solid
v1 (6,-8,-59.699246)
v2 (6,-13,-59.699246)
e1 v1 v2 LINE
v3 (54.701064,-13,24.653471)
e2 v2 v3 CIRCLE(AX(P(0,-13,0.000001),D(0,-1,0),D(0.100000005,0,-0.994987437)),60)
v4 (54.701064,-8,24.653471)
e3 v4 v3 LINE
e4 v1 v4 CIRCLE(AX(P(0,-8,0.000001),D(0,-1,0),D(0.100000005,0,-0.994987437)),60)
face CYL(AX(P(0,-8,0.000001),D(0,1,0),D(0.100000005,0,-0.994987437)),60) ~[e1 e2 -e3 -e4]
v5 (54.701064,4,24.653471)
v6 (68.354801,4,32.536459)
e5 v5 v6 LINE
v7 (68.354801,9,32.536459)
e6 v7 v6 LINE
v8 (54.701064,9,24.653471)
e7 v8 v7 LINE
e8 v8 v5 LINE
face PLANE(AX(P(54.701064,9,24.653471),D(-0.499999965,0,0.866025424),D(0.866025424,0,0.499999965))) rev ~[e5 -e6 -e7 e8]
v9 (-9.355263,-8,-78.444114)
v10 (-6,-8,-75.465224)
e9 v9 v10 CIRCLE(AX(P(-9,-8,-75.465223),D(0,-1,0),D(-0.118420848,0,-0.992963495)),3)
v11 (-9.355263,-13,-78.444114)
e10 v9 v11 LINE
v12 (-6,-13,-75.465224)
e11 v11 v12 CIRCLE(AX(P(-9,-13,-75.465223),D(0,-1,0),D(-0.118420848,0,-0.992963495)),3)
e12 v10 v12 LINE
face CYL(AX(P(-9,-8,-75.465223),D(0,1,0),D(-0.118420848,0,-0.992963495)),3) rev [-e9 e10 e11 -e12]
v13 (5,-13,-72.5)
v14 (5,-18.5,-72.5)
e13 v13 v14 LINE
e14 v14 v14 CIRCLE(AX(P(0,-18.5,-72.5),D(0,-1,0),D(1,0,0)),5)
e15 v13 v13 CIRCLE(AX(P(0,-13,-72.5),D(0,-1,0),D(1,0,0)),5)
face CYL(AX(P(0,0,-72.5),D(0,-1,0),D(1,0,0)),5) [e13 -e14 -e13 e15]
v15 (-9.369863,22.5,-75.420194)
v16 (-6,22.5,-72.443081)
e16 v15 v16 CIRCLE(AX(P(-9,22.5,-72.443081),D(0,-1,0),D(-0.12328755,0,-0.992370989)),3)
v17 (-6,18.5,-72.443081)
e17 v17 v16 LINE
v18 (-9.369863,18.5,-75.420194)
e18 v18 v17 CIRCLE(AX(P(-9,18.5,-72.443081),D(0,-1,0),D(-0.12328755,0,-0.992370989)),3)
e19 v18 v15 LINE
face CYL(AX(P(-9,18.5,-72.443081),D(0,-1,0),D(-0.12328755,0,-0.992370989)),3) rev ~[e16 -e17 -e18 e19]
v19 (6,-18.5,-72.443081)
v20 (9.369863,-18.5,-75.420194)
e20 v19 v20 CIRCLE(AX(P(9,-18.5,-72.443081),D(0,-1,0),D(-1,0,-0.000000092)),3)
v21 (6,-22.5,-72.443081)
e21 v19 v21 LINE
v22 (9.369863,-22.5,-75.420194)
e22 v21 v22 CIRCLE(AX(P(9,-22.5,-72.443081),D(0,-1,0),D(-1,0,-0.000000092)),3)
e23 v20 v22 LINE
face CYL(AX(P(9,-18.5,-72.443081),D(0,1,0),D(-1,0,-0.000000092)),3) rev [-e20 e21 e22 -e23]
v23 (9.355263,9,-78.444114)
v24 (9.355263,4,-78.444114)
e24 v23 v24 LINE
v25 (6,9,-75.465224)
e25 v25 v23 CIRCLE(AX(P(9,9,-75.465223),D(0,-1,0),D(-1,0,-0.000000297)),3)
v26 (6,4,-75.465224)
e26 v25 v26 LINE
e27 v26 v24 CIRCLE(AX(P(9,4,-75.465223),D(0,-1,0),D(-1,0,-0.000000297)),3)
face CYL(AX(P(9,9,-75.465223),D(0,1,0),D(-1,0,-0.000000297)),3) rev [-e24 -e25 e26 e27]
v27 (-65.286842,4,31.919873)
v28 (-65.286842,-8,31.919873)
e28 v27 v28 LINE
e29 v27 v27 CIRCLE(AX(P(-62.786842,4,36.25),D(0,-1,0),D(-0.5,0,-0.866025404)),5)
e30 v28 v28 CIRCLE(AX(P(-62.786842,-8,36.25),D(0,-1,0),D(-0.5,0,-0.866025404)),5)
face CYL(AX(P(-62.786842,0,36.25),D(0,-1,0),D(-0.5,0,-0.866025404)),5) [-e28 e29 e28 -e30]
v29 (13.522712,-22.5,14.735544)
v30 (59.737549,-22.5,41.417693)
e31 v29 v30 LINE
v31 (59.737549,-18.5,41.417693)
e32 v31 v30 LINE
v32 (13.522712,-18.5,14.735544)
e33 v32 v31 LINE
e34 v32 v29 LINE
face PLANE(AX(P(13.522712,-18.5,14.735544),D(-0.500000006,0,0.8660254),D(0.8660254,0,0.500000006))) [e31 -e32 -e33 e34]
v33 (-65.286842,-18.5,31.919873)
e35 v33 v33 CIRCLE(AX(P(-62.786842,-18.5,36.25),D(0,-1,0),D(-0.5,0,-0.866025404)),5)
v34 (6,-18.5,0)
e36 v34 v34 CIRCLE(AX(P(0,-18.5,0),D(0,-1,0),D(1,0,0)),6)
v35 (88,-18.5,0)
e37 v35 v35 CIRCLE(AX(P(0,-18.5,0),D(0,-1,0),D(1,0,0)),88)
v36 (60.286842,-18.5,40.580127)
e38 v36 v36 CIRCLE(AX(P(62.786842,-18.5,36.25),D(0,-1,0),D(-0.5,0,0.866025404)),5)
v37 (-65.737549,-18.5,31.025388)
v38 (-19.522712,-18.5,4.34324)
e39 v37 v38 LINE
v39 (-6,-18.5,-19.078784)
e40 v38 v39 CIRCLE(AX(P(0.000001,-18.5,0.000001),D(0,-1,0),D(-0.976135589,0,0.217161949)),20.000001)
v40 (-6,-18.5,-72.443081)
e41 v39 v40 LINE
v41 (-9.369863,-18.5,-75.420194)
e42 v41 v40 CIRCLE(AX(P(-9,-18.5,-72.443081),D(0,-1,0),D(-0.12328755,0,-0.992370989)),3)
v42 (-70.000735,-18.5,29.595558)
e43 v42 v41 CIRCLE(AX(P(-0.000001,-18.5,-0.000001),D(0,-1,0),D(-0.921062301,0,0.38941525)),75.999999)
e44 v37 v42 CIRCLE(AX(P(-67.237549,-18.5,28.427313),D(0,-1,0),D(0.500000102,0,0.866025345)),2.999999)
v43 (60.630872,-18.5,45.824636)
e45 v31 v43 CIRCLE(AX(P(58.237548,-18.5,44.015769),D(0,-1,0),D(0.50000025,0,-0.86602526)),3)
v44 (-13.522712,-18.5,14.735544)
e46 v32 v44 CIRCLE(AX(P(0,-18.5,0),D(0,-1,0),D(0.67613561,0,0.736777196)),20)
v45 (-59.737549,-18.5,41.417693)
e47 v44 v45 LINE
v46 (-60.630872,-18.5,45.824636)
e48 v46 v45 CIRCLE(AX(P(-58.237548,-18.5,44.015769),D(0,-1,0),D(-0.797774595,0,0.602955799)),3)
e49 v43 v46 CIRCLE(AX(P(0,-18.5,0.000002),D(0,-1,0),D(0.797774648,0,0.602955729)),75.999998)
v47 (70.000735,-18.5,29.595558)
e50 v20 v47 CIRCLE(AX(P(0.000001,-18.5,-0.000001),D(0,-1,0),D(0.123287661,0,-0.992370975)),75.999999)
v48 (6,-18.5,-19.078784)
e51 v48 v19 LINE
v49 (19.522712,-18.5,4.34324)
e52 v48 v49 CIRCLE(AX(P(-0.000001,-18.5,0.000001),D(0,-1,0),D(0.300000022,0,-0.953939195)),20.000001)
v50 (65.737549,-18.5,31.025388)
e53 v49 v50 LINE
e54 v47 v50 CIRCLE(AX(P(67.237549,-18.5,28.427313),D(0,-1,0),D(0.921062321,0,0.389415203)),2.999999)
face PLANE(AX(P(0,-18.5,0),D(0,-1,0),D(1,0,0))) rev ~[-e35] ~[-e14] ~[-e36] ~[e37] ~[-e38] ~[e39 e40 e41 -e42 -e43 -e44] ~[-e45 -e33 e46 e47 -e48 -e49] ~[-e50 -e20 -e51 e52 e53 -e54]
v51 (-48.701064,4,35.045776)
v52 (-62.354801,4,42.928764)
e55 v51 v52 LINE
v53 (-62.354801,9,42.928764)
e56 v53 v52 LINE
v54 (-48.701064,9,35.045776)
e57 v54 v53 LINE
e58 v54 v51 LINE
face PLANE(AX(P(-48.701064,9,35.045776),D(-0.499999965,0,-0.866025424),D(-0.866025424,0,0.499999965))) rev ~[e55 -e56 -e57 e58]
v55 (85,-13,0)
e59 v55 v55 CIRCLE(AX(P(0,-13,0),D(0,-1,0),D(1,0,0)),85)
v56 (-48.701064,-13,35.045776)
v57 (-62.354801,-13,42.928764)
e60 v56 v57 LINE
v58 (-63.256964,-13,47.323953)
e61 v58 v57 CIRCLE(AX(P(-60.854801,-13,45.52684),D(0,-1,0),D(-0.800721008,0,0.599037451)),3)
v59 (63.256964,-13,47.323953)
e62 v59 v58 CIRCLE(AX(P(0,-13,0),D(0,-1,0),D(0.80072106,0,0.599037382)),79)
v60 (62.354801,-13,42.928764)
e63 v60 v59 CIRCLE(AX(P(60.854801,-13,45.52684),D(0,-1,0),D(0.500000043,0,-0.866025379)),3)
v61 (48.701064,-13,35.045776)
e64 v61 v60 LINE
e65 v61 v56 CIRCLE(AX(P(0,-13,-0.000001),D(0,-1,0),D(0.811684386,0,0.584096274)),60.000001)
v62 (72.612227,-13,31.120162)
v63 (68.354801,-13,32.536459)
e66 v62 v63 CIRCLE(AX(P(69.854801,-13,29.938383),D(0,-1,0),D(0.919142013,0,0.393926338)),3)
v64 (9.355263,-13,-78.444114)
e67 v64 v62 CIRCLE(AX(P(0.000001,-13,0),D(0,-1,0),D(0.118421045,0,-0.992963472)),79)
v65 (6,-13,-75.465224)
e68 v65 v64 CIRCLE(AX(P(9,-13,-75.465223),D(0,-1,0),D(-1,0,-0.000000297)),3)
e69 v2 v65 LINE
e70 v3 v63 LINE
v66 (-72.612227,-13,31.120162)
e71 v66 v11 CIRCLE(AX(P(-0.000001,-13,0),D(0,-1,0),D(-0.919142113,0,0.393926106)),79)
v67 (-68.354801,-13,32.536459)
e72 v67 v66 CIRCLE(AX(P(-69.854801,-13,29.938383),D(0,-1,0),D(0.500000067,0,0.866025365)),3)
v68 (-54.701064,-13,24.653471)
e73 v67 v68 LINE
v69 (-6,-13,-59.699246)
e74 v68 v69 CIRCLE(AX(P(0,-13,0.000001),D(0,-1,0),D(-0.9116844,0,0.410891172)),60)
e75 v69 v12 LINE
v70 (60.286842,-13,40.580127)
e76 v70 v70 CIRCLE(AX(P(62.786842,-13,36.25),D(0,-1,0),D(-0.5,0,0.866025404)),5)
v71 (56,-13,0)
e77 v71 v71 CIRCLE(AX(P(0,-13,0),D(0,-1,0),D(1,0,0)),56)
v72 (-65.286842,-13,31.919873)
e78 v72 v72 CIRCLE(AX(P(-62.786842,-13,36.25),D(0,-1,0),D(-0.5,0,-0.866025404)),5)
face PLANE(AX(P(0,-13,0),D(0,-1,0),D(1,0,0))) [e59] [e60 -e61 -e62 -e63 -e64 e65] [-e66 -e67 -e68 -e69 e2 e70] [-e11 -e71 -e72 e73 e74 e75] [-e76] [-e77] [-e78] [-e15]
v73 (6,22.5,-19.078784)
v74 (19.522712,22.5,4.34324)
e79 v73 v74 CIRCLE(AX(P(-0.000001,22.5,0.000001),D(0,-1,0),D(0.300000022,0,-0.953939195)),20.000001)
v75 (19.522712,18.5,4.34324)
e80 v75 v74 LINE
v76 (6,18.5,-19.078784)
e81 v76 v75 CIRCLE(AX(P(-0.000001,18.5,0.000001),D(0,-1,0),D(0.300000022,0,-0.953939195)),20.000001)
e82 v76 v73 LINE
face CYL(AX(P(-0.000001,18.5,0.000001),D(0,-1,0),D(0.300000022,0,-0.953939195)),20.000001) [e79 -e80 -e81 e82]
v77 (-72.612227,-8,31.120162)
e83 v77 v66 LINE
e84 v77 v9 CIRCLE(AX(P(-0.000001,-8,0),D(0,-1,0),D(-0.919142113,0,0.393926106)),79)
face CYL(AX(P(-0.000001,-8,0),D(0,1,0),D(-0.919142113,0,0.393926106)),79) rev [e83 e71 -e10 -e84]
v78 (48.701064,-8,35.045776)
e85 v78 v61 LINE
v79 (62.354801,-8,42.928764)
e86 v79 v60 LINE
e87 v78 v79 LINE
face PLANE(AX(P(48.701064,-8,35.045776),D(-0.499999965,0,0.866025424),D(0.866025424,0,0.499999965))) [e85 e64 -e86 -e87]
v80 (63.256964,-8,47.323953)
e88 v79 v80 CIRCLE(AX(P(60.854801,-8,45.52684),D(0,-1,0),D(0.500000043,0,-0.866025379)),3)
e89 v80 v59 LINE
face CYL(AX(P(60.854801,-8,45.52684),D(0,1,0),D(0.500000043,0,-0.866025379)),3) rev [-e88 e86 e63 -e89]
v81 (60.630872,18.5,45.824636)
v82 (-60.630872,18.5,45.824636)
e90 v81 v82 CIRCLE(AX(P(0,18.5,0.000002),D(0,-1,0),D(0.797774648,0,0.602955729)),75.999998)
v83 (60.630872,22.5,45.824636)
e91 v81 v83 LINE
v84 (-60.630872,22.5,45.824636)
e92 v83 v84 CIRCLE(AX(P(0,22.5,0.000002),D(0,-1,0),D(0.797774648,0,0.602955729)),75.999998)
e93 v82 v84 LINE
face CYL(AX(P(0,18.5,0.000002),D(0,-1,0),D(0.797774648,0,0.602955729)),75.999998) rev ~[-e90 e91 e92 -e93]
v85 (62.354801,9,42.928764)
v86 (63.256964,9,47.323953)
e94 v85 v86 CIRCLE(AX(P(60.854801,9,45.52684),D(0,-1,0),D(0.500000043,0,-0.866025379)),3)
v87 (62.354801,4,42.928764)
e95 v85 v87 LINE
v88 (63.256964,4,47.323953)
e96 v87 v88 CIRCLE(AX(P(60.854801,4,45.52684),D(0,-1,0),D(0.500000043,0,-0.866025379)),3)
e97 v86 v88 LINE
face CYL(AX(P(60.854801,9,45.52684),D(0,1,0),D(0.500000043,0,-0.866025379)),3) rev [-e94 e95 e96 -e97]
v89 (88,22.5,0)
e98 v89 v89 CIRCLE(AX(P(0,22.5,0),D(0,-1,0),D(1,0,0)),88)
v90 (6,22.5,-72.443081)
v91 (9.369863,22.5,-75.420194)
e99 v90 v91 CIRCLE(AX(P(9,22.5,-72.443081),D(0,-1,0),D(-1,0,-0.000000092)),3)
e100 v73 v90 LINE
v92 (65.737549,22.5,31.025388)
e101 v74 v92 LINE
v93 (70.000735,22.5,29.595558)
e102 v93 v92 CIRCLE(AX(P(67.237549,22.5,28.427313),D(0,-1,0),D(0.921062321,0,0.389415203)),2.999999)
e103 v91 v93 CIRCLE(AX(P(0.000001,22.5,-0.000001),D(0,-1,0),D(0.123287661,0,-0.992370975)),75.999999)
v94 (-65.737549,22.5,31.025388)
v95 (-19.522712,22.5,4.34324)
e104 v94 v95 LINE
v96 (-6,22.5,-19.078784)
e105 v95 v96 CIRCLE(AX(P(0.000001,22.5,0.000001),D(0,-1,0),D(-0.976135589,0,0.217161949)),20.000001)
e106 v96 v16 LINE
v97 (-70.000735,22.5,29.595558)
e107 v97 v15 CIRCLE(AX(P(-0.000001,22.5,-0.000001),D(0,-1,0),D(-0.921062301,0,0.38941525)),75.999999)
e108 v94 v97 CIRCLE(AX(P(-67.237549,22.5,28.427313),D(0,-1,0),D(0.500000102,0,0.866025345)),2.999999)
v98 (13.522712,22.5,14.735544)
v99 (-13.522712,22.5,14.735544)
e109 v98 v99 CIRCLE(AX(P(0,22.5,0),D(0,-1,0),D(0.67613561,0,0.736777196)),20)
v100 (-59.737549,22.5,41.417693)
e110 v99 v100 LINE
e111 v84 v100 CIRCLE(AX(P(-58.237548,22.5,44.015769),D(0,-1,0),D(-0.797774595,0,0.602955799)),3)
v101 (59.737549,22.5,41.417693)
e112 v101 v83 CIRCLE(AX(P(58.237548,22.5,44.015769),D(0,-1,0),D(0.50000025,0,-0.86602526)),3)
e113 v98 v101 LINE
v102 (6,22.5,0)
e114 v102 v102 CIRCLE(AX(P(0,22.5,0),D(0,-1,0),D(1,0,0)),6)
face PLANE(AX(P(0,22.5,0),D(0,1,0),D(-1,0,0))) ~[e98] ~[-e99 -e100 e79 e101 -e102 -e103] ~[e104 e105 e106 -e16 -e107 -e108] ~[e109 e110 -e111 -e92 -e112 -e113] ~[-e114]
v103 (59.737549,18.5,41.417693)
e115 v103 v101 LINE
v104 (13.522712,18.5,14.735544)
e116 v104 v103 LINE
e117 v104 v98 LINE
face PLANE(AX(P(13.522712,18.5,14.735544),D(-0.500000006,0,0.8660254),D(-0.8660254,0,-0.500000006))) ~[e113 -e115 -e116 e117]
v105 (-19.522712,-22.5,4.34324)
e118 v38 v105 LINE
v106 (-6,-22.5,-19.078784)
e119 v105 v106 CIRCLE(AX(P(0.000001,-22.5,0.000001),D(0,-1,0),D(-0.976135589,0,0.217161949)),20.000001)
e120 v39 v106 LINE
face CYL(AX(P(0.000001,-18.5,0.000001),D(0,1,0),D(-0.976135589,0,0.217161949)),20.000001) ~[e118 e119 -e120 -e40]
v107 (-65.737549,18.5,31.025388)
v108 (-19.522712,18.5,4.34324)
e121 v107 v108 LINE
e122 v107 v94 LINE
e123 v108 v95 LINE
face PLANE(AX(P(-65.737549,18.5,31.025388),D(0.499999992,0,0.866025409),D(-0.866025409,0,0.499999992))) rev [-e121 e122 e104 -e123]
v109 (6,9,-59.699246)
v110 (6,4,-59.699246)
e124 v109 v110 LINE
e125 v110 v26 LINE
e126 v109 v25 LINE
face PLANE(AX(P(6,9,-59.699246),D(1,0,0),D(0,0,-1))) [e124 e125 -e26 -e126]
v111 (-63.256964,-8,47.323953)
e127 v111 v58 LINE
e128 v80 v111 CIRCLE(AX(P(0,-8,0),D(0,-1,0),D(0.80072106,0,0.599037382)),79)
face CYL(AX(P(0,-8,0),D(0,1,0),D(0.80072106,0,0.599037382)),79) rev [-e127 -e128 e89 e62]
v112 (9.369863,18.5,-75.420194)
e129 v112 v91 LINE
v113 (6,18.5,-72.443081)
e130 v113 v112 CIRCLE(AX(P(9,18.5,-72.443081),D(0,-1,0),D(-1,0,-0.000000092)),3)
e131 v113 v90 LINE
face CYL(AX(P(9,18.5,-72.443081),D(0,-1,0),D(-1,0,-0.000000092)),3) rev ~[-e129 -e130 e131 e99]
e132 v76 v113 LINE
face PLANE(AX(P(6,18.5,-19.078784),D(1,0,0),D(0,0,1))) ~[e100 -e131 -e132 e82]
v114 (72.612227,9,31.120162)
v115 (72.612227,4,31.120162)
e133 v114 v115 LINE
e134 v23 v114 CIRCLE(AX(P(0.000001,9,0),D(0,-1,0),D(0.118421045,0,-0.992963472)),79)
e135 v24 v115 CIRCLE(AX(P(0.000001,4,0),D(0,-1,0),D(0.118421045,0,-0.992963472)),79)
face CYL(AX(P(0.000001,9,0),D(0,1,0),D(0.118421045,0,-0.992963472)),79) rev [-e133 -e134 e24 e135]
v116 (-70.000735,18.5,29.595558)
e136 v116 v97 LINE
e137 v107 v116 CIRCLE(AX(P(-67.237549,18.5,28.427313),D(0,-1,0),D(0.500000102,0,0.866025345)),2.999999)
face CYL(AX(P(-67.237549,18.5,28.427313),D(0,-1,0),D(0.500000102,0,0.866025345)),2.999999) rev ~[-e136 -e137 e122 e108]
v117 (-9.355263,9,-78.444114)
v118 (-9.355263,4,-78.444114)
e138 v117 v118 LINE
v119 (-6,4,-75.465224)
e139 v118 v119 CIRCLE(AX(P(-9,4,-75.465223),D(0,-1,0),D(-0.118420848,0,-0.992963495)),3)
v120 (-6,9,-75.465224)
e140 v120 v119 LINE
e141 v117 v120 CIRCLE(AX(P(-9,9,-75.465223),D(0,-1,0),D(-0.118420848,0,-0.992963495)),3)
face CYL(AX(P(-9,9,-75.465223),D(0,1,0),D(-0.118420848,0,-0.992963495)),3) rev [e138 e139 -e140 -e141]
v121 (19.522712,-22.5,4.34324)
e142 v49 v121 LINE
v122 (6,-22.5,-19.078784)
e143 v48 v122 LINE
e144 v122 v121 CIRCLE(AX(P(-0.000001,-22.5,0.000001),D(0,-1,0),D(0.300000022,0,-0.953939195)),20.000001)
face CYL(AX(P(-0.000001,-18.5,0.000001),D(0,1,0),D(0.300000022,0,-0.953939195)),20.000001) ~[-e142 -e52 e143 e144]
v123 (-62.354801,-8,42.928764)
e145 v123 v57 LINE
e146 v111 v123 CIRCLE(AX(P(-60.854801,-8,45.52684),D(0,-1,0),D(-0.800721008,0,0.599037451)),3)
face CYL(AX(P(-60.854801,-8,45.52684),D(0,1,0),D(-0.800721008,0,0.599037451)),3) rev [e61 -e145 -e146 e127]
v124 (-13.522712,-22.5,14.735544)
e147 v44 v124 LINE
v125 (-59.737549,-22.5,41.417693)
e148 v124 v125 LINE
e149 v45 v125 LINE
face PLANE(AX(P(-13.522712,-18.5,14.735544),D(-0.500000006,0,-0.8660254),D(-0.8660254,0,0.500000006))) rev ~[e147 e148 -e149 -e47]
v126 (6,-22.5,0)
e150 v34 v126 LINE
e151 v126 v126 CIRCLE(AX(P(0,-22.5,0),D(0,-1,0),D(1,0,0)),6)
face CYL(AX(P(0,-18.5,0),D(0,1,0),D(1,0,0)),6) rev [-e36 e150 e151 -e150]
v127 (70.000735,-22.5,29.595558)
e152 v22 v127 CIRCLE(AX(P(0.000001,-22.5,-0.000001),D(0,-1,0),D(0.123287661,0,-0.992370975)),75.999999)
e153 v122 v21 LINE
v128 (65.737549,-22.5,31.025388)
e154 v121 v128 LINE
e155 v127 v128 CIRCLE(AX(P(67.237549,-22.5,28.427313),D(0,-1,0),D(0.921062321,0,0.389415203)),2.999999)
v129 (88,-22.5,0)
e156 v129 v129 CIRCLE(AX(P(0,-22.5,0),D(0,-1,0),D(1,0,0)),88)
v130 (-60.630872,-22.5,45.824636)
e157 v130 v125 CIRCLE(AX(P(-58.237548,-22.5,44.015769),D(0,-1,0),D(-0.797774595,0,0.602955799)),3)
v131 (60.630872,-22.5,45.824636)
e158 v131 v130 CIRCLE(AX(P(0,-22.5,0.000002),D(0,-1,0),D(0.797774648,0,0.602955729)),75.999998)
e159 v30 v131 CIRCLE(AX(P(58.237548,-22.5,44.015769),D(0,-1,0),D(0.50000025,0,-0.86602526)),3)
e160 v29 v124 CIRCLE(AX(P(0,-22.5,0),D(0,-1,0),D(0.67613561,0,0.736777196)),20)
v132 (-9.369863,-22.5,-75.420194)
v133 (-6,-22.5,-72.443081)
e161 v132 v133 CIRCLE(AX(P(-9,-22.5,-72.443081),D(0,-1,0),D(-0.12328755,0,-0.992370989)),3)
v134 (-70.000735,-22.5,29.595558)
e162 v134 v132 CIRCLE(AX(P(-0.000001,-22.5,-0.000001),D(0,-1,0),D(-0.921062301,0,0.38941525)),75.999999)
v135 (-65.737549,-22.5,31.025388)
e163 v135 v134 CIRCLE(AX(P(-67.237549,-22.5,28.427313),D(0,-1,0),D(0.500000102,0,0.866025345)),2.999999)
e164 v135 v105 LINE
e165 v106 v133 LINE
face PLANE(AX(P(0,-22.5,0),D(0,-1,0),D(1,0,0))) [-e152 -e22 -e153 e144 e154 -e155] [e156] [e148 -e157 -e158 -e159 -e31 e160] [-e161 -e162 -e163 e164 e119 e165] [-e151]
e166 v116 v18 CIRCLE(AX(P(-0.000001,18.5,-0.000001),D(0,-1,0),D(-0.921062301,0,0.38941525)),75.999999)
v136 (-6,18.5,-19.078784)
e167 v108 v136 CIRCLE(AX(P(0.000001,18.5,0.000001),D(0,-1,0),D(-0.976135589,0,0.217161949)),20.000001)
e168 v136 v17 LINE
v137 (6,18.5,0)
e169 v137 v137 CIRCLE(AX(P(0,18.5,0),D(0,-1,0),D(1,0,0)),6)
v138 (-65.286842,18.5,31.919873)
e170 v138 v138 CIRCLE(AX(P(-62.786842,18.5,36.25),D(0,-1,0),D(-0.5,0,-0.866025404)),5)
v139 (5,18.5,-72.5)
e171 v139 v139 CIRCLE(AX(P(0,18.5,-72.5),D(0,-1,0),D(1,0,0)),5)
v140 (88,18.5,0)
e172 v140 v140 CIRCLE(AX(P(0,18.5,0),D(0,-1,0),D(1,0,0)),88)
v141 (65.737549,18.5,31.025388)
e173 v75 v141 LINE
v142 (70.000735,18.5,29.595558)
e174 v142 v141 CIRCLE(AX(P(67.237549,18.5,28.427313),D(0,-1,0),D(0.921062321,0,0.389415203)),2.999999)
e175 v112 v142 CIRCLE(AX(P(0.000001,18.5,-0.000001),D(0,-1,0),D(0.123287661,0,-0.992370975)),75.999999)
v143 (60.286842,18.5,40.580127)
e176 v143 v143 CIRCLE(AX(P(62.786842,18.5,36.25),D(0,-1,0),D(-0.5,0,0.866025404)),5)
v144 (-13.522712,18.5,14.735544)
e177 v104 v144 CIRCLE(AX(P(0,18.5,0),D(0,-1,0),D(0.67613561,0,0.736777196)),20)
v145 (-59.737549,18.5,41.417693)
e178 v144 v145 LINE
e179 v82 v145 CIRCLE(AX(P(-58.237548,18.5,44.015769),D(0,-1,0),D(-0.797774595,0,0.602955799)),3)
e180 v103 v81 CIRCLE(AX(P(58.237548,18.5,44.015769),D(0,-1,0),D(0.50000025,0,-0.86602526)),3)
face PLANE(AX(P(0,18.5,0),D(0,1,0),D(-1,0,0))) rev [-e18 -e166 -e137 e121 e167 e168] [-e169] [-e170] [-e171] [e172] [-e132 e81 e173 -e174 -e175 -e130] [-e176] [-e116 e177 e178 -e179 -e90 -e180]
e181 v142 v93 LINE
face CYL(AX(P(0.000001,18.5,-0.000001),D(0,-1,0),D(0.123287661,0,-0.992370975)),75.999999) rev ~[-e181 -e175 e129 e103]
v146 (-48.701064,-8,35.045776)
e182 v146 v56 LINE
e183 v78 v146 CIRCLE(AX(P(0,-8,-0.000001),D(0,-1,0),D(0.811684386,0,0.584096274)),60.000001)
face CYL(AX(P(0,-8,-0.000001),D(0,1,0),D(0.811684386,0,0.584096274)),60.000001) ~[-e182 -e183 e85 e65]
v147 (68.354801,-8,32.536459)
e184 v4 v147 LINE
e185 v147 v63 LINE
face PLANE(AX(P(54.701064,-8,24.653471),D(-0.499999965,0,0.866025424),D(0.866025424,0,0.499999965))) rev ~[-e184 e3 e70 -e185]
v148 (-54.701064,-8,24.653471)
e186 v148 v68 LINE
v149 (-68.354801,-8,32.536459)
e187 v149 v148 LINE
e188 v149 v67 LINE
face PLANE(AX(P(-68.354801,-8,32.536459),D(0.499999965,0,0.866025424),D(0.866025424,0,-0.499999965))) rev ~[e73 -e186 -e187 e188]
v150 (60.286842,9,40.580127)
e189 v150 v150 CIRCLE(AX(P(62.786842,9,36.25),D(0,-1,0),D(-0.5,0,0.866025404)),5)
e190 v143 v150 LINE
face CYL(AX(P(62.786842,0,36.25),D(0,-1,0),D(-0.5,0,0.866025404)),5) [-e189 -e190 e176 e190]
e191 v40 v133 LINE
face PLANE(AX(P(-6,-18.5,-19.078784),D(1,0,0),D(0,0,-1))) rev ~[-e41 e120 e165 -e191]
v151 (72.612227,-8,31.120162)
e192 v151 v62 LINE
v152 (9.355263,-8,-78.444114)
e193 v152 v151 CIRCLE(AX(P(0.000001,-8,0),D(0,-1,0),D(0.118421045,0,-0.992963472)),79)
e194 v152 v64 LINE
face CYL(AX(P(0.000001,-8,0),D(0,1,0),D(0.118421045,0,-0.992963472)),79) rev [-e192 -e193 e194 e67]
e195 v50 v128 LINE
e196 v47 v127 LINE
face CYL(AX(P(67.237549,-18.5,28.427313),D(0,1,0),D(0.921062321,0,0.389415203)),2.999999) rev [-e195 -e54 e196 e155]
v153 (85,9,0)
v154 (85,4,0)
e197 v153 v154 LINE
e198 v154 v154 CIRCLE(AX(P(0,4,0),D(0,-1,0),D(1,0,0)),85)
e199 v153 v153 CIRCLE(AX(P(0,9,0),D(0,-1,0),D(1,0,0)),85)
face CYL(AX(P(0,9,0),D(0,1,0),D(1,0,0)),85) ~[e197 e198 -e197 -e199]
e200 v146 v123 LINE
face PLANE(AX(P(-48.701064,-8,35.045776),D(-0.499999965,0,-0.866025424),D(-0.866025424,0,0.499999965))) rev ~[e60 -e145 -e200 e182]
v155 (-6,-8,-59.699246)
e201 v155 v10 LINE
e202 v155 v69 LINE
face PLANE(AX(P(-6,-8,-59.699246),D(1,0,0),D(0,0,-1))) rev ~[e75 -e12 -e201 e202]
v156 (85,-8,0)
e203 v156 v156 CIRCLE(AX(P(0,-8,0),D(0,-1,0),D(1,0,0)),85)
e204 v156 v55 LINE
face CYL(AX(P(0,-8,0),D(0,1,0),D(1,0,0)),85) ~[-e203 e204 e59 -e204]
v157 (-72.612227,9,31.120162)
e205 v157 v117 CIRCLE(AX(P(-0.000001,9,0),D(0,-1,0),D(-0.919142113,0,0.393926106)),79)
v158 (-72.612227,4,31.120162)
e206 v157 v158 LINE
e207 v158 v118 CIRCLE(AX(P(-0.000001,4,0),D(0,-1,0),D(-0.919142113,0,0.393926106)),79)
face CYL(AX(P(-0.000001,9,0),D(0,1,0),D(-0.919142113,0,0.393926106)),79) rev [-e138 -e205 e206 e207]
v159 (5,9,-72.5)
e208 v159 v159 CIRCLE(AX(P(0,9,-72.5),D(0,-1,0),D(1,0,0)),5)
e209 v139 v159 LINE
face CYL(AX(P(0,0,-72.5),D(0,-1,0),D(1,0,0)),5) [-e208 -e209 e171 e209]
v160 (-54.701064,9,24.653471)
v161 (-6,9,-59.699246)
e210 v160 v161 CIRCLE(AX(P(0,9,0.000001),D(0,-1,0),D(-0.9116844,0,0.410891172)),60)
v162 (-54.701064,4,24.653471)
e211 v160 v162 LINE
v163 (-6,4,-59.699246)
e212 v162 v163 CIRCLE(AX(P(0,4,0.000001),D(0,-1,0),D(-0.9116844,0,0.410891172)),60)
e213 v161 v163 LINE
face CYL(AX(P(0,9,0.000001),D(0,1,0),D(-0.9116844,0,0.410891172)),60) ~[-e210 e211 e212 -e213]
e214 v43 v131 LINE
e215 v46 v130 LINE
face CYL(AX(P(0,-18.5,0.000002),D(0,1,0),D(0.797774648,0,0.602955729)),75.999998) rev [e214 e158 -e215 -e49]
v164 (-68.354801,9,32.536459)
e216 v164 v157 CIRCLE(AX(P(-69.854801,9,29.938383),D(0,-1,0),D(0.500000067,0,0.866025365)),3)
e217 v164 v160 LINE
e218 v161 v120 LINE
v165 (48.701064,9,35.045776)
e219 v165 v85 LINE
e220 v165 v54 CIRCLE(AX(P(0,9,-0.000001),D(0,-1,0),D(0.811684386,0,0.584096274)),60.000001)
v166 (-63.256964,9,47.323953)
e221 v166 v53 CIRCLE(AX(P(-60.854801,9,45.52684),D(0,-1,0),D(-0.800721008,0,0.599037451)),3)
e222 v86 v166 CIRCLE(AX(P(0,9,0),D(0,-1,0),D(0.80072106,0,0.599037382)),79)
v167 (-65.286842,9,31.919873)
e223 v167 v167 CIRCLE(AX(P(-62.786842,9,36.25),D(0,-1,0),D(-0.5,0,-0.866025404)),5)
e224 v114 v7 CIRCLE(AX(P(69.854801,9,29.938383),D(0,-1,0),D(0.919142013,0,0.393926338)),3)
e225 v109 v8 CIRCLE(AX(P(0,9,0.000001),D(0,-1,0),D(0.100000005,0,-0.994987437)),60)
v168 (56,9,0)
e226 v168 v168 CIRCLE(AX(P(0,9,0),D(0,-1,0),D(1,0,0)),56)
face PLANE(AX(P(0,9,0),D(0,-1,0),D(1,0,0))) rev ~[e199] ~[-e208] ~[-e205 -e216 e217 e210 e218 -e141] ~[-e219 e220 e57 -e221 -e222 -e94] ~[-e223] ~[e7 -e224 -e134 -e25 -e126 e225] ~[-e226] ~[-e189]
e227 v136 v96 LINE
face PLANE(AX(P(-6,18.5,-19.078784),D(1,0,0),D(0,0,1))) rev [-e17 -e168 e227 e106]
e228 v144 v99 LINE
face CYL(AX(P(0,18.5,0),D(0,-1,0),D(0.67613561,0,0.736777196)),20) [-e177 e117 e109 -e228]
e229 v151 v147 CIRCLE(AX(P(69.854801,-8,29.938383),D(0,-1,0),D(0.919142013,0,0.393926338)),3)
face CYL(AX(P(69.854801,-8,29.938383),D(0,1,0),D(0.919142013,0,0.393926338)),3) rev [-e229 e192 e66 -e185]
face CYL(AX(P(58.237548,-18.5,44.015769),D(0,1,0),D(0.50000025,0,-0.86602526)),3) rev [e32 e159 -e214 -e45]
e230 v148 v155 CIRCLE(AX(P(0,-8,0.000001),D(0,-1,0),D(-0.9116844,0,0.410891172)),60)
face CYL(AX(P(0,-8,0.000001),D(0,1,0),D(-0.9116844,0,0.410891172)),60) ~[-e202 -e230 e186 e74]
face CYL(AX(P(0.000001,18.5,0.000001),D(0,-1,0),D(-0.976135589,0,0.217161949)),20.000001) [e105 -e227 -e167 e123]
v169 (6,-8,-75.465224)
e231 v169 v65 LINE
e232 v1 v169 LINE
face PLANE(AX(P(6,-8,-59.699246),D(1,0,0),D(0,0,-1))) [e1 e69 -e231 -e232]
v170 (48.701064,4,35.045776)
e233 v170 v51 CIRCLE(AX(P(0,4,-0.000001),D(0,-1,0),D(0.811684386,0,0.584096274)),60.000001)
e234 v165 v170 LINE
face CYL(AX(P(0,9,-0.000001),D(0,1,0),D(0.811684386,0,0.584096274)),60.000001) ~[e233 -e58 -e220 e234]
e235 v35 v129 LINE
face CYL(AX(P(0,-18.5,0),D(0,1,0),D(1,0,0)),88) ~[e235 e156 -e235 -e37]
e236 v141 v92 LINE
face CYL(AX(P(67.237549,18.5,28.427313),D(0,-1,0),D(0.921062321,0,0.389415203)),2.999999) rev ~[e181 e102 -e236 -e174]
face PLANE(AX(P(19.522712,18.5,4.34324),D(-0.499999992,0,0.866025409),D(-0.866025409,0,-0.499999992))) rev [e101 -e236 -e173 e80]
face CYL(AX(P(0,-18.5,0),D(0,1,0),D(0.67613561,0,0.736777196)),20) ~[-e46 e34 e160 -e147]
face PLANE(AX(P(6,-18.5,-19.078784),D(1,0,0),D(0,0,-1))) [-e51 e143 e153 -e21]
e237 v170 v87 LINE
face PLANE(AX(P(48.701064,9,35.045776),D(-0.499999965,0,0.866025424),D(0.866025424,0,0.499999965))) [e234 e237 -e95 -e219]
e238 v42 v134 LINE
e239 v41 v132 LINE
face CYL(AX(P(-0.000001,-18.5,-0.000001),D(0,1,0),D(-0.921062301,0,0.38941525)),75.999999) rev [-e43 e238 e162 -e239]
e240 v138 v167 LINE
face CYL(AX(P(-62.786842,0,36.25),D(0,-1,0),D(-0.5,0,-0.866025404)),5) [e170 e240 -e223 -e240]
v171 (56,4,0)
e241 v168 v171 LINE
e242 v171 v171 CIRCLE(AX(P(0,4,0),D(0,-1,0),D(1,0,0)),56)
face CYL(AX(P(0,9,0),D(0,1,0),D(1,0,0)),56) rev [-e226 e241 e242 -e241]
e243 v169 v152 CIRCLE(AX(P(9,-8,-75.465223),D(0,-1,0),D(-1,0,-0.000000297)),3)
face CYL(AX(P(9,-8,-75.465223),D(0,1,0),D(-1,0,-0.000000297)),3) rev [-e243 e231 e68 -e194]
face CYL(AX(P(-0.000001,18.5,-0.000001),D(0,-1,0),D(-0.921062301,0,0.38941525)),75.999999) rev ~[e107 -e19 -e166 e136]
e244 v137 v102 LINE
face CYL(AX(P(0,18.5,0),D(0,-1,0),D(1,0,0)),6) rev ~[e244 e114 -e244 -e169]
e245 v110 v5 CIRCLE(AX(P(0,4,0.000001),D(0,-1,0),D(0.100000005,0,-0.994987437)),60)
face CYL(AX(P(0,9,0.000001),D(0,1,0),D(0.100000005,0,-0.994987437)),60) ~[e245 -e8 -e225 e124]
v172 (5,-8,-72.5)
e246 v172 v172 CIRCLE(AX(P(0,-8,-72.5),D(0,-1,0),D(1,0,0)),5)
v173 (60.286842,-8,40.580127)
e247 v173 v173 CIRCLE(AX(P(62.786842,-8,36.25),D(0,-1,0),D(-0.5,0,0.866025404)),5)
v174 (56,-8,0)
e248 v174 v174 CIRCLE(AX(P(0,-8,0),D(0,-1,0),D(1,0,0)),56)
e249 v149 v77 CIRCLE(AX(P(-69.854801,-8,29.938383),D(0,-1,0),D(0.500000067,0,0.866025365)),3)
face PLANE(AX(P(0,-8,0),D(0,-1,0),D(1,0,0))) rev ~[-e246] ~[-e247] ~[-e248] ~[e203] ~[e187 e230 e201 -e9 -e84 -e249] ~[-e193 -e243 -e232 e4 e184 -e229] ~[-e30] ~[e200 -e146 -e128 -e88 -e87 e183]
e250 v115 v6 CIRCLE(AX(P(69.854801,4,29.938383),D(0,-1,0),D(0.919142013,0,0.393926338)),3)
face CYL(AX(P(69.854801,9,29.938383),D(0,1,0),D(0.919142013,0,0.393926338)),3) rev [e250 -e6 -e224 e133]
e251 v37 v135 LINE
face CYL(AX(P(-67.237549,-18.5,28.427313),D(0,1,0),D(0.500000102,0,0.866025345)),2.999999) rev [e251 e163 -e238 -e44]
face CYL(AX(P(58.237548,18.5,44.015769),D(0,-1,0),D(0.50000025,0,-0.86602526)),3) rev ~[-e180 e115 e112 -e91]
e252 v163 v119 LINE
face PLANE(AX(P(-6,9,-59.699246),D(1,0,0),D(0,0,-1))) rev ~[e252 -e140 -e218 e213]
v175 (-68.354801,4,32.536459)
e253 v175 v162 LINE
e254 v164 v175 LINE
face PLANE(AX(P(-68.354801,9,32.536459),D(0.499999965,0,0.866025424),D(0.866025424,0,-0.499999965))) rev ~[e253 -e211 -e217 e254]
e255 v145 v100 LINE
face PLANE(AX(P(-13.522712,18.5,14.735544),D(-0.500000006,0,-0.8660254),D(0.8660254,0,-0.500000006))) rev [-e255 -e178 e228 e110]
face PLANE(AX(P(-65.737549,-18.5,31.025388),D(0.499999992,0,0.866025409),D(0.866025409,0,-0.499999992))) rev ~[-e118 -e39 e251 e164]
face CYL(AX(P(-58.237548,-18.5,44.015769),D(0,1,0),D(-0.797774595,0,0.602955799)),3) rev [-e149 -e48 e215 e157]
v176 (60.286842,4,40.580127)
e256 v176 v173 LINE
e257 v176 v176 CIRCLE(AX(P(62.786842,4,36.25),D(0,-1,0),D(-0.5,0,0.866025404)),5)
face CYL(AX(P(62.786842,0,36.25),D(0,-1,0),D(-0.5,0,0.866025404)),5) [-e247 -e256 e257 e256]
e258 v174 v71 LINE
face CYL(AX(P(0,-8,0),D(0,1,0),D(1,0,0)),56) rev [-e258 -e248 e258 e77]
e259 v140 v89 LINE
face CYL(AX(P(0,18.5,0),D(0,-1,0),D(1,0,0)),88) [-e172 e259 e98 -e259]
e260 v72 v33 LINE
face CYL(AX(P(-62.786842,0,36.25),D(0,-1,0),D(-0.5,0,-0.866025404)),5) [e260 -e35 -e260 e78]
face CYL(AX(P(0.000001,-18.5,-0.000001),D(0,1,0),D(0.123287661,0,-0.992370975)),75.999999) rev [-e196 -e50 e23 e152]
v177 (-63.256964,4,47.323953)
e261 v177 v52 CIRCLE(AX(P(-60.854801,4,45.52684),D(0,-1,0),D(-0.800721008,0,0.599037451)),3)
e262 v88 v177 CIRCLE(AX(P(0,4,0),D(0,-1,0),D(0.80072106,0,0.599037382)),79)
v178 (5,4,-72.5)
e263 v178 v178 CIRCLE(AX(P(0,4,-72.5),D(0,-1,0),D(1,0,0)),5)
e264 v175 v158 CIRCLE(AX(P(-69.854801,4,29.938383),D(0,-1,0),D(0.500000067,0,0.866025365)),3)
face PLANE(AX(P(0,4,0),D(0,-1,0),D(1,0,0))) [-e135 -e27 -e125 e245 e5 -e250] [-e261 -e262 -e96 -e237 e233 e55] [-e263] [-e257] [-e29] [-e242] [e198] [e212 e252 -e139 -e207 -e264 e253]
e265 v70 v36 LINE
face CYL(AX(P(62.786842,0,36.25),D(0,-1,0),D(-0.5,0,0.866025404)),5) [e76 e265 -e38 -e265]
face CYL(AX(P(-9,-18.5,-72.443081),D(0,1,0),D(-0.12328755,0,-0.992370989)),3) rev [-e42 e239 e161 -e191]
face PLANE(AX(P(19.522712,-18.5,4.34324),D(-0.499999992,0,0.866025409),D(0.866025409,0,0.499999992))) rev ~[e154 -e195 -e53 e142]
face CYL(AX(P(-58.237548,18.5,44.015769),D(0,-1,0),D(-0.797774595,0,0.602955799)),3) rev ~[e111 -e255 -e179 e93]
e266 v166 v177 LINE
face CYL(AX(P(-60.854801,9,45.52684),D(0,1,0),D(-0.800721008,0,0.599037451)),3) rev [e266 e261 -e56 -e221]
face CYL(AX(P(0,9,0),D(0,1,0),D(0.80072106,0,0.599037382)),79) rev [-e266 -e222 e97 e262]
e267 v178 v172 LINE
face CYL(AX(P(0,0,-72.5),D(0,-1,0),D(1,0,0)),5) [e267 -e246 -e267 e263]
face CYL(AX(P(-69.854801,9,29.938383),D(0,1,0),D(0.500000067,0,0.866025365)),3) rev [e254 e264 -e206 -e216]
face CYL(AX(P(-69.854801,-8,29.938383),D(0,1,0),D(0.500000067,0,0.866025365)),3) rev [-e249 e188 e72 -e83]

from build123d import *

# Parameters (mm, degrees)
SKETCH_R            = 88
SKETCH_R_2          = 6
PAD_DEPTH           = 4
SKETCH002_R         = 5
PAD001_DEPTH        = 18.5
POLARPATTERN_COUNT  = 3
SKETCH001_R         = 85
SKETCH001_R_2       = 56
PAD002_DEPTH        = 5
LINEARPATTERN_COUNT = 2
LINEARPATTERN_PITCH = 17


with BuildPart() as part:
    # Sketch → Pad (new body)
    with BuildSketch(Plane.XZ.offset(18.5)):
        Circle(SKETCH_R)
        Circle(SKETCH_R_2, mode=Mode.SUBTRACT)
        with BuildLine():
            ThreePointArc((9.369863, -75.420194), (65.817931, -38), (70.000735, 29.595558))
            ThreePointArc((70.000735, 29.595558), (68.191495, 31.271602), (65.737549, 31.025388))
            Line((19.522712, 4.34324), (65.737549, 31.025388))
            ThreePointArc((6, -19.078784), (17.320508, -10), (19.522712, 4.34324))
            Line((6, -19.078784), (6, -72.443081))
            ThreePointArc((6, -72.443081), (7.013746, -74.691368), (9.369863, -75.420194))
        make_face(mode=Mode.SUBTRACT)
        with BuildLine():
            Line((-6, -19.078784), (-6, -72.443081))
            ThreePointArc((-9.369863, -75.420194), (-7.013746, -74.691368), (-6, -72.443081))
            ThreePointArc((-70.000735, 29.595558), (-65.817931, -38), (-9.369863, -75.420194))
            ThreePointArc((-65.737549, 31.025388), (-68.191495, 31.271602), (-70.000735, 29.595558))
            Line((-65.737549, 31.025388), (-19.522712, 4.34324))
            ThreePointArc((-19.522712, 4.34324), (-17.320508, -10), (-6, -19.078784))
        make_face(mode=Mode.SUBTRACT)
        with BuildLine():
            Line((13.522712, 14.735544), (59.737549, 41.417693))
            ThreePointArc((59.737549, 41.417693), (61.177749, 43.419766), (60.630872, 45.824636))
            ThreePointArc((60.630872, 45.824636), (0, 76), (-60.630872, 45.824636))
            ThreePointArc((-60.630872, 45.824636), (-61.177749, 43.419766), (-59.737549, 41.417693))
            Line((-13.522712, 14.735544), (-59.737549, 41.417693))
            ThreePointArc((13.522712, 14.735544), (0, 20), (-13.522712, 14.735544))
        make_face(mode=Mode.SUBTRACT)
    pad = extrude(amount=PAD_DEPTH)

    # Sketch002 → Pad001 (join, symmetric)
    with BuildSketch(Plane.XZ):
        with Locations((0, -72.5)):
            Circle(SKETCH002_R)
    pad001 = extrude(amount=PAD001_DEPTH, both=True)

    # PolarPattern: Pad001 ×3 about axis
    polarpattern_axis = Axis((0, 0, 0), (0, -1, 0))
    for i in range(1, POLARPATTERN_COUNT):
        add(pad001.rotate(polarpattern_axis, i * 360 / POLARPATTERN_COUNT))

    # Sketch001 → Pad002 (join)
    with BuildSketch(Plane.XZ.offset(8)):
        Circle(SKETCH001_R)
        Circle(SKETCH001_R_2, mode=Mode.SUBTRACT)
        with BuildLine():
            ThreePointArc((9.355263, -78.444114), (68.416007, -39.5), (72.612227, 31.120162))
            ThreePointArc((72.612227, 31.120162), (70.801772, 32.785003), (68.354801, 32.536459))
            Line((54.701064, 24.653471), (68.354801, 32.536459))
            ThreePointArc((6, -59.699246), (51.961524, -30), (54.701064, 24.653471))
            Line((6, -59.699246), (6, -75.465224))
            ThreePointArc((6, -75.465224), (7.008241, -77.708635), (9.355263, -78.444114))
        make_face(mode=Mode.SUBTRACT)
        with BuildLine():
            Line((-6, -59.699246), (-6, -75.465224))
            ThreePointArc((-9.355263, -78.444114), (-7.008241, -77.708635), (-6, -75.465224))
            ThreePointArc((-72.612227, 31.120162), (-68.416007, -39.5), (-9.355263, -78.444114))
            ThreePointArc((-68.354801, 32.536459), (-70.801772, 32.785003), (-72.612227, 31.120162))
            Line((-68.354801, 32.536459), (-54.701064, 24.653471))
            ThreePointArc((-54.701064, 24.653471), (-51.961524, -30), (-6, -59.699246))
        make_face(mode=Mode.SUBTRACT)
        with BuildLine():
            Line((48.701064, 35.045776), (62.354801, 42.928764))
            ThreePointArc((62.354801, 42.928764), (63.793532, 44.923632), (63.256964, 47.323953))
            ThreePointArc((63.256964, 47.323953), (0, 79), (-63.256964, 47.323953))
            ThreePointArc((-63.256964, 47.323953), (-63.793532, 44.923632), (-62.354801, 42.928764))
            Line((-48.701064, 35.045776), (-62.354801, 42.928764))
            ThreePointArc((48.701064, 35.045776), (0, 60), (-48.701064, 35.045776))
        make_face(mode=Mode.SUBTRACT)
    pad002 = extrude(amount=PAD002_DEPTH)

    # LinearPattern: Pad002 ×2
    with Locations(*[(0, i * LINEARPATTERN_PITCH, 0) for i in range(1, LINEARPATTERN_COUNT)]):
        add(pad002)

    # Mirrored: Pad across XZ
    add(pad.mirror(Plane.XZ))


solid = part.part
